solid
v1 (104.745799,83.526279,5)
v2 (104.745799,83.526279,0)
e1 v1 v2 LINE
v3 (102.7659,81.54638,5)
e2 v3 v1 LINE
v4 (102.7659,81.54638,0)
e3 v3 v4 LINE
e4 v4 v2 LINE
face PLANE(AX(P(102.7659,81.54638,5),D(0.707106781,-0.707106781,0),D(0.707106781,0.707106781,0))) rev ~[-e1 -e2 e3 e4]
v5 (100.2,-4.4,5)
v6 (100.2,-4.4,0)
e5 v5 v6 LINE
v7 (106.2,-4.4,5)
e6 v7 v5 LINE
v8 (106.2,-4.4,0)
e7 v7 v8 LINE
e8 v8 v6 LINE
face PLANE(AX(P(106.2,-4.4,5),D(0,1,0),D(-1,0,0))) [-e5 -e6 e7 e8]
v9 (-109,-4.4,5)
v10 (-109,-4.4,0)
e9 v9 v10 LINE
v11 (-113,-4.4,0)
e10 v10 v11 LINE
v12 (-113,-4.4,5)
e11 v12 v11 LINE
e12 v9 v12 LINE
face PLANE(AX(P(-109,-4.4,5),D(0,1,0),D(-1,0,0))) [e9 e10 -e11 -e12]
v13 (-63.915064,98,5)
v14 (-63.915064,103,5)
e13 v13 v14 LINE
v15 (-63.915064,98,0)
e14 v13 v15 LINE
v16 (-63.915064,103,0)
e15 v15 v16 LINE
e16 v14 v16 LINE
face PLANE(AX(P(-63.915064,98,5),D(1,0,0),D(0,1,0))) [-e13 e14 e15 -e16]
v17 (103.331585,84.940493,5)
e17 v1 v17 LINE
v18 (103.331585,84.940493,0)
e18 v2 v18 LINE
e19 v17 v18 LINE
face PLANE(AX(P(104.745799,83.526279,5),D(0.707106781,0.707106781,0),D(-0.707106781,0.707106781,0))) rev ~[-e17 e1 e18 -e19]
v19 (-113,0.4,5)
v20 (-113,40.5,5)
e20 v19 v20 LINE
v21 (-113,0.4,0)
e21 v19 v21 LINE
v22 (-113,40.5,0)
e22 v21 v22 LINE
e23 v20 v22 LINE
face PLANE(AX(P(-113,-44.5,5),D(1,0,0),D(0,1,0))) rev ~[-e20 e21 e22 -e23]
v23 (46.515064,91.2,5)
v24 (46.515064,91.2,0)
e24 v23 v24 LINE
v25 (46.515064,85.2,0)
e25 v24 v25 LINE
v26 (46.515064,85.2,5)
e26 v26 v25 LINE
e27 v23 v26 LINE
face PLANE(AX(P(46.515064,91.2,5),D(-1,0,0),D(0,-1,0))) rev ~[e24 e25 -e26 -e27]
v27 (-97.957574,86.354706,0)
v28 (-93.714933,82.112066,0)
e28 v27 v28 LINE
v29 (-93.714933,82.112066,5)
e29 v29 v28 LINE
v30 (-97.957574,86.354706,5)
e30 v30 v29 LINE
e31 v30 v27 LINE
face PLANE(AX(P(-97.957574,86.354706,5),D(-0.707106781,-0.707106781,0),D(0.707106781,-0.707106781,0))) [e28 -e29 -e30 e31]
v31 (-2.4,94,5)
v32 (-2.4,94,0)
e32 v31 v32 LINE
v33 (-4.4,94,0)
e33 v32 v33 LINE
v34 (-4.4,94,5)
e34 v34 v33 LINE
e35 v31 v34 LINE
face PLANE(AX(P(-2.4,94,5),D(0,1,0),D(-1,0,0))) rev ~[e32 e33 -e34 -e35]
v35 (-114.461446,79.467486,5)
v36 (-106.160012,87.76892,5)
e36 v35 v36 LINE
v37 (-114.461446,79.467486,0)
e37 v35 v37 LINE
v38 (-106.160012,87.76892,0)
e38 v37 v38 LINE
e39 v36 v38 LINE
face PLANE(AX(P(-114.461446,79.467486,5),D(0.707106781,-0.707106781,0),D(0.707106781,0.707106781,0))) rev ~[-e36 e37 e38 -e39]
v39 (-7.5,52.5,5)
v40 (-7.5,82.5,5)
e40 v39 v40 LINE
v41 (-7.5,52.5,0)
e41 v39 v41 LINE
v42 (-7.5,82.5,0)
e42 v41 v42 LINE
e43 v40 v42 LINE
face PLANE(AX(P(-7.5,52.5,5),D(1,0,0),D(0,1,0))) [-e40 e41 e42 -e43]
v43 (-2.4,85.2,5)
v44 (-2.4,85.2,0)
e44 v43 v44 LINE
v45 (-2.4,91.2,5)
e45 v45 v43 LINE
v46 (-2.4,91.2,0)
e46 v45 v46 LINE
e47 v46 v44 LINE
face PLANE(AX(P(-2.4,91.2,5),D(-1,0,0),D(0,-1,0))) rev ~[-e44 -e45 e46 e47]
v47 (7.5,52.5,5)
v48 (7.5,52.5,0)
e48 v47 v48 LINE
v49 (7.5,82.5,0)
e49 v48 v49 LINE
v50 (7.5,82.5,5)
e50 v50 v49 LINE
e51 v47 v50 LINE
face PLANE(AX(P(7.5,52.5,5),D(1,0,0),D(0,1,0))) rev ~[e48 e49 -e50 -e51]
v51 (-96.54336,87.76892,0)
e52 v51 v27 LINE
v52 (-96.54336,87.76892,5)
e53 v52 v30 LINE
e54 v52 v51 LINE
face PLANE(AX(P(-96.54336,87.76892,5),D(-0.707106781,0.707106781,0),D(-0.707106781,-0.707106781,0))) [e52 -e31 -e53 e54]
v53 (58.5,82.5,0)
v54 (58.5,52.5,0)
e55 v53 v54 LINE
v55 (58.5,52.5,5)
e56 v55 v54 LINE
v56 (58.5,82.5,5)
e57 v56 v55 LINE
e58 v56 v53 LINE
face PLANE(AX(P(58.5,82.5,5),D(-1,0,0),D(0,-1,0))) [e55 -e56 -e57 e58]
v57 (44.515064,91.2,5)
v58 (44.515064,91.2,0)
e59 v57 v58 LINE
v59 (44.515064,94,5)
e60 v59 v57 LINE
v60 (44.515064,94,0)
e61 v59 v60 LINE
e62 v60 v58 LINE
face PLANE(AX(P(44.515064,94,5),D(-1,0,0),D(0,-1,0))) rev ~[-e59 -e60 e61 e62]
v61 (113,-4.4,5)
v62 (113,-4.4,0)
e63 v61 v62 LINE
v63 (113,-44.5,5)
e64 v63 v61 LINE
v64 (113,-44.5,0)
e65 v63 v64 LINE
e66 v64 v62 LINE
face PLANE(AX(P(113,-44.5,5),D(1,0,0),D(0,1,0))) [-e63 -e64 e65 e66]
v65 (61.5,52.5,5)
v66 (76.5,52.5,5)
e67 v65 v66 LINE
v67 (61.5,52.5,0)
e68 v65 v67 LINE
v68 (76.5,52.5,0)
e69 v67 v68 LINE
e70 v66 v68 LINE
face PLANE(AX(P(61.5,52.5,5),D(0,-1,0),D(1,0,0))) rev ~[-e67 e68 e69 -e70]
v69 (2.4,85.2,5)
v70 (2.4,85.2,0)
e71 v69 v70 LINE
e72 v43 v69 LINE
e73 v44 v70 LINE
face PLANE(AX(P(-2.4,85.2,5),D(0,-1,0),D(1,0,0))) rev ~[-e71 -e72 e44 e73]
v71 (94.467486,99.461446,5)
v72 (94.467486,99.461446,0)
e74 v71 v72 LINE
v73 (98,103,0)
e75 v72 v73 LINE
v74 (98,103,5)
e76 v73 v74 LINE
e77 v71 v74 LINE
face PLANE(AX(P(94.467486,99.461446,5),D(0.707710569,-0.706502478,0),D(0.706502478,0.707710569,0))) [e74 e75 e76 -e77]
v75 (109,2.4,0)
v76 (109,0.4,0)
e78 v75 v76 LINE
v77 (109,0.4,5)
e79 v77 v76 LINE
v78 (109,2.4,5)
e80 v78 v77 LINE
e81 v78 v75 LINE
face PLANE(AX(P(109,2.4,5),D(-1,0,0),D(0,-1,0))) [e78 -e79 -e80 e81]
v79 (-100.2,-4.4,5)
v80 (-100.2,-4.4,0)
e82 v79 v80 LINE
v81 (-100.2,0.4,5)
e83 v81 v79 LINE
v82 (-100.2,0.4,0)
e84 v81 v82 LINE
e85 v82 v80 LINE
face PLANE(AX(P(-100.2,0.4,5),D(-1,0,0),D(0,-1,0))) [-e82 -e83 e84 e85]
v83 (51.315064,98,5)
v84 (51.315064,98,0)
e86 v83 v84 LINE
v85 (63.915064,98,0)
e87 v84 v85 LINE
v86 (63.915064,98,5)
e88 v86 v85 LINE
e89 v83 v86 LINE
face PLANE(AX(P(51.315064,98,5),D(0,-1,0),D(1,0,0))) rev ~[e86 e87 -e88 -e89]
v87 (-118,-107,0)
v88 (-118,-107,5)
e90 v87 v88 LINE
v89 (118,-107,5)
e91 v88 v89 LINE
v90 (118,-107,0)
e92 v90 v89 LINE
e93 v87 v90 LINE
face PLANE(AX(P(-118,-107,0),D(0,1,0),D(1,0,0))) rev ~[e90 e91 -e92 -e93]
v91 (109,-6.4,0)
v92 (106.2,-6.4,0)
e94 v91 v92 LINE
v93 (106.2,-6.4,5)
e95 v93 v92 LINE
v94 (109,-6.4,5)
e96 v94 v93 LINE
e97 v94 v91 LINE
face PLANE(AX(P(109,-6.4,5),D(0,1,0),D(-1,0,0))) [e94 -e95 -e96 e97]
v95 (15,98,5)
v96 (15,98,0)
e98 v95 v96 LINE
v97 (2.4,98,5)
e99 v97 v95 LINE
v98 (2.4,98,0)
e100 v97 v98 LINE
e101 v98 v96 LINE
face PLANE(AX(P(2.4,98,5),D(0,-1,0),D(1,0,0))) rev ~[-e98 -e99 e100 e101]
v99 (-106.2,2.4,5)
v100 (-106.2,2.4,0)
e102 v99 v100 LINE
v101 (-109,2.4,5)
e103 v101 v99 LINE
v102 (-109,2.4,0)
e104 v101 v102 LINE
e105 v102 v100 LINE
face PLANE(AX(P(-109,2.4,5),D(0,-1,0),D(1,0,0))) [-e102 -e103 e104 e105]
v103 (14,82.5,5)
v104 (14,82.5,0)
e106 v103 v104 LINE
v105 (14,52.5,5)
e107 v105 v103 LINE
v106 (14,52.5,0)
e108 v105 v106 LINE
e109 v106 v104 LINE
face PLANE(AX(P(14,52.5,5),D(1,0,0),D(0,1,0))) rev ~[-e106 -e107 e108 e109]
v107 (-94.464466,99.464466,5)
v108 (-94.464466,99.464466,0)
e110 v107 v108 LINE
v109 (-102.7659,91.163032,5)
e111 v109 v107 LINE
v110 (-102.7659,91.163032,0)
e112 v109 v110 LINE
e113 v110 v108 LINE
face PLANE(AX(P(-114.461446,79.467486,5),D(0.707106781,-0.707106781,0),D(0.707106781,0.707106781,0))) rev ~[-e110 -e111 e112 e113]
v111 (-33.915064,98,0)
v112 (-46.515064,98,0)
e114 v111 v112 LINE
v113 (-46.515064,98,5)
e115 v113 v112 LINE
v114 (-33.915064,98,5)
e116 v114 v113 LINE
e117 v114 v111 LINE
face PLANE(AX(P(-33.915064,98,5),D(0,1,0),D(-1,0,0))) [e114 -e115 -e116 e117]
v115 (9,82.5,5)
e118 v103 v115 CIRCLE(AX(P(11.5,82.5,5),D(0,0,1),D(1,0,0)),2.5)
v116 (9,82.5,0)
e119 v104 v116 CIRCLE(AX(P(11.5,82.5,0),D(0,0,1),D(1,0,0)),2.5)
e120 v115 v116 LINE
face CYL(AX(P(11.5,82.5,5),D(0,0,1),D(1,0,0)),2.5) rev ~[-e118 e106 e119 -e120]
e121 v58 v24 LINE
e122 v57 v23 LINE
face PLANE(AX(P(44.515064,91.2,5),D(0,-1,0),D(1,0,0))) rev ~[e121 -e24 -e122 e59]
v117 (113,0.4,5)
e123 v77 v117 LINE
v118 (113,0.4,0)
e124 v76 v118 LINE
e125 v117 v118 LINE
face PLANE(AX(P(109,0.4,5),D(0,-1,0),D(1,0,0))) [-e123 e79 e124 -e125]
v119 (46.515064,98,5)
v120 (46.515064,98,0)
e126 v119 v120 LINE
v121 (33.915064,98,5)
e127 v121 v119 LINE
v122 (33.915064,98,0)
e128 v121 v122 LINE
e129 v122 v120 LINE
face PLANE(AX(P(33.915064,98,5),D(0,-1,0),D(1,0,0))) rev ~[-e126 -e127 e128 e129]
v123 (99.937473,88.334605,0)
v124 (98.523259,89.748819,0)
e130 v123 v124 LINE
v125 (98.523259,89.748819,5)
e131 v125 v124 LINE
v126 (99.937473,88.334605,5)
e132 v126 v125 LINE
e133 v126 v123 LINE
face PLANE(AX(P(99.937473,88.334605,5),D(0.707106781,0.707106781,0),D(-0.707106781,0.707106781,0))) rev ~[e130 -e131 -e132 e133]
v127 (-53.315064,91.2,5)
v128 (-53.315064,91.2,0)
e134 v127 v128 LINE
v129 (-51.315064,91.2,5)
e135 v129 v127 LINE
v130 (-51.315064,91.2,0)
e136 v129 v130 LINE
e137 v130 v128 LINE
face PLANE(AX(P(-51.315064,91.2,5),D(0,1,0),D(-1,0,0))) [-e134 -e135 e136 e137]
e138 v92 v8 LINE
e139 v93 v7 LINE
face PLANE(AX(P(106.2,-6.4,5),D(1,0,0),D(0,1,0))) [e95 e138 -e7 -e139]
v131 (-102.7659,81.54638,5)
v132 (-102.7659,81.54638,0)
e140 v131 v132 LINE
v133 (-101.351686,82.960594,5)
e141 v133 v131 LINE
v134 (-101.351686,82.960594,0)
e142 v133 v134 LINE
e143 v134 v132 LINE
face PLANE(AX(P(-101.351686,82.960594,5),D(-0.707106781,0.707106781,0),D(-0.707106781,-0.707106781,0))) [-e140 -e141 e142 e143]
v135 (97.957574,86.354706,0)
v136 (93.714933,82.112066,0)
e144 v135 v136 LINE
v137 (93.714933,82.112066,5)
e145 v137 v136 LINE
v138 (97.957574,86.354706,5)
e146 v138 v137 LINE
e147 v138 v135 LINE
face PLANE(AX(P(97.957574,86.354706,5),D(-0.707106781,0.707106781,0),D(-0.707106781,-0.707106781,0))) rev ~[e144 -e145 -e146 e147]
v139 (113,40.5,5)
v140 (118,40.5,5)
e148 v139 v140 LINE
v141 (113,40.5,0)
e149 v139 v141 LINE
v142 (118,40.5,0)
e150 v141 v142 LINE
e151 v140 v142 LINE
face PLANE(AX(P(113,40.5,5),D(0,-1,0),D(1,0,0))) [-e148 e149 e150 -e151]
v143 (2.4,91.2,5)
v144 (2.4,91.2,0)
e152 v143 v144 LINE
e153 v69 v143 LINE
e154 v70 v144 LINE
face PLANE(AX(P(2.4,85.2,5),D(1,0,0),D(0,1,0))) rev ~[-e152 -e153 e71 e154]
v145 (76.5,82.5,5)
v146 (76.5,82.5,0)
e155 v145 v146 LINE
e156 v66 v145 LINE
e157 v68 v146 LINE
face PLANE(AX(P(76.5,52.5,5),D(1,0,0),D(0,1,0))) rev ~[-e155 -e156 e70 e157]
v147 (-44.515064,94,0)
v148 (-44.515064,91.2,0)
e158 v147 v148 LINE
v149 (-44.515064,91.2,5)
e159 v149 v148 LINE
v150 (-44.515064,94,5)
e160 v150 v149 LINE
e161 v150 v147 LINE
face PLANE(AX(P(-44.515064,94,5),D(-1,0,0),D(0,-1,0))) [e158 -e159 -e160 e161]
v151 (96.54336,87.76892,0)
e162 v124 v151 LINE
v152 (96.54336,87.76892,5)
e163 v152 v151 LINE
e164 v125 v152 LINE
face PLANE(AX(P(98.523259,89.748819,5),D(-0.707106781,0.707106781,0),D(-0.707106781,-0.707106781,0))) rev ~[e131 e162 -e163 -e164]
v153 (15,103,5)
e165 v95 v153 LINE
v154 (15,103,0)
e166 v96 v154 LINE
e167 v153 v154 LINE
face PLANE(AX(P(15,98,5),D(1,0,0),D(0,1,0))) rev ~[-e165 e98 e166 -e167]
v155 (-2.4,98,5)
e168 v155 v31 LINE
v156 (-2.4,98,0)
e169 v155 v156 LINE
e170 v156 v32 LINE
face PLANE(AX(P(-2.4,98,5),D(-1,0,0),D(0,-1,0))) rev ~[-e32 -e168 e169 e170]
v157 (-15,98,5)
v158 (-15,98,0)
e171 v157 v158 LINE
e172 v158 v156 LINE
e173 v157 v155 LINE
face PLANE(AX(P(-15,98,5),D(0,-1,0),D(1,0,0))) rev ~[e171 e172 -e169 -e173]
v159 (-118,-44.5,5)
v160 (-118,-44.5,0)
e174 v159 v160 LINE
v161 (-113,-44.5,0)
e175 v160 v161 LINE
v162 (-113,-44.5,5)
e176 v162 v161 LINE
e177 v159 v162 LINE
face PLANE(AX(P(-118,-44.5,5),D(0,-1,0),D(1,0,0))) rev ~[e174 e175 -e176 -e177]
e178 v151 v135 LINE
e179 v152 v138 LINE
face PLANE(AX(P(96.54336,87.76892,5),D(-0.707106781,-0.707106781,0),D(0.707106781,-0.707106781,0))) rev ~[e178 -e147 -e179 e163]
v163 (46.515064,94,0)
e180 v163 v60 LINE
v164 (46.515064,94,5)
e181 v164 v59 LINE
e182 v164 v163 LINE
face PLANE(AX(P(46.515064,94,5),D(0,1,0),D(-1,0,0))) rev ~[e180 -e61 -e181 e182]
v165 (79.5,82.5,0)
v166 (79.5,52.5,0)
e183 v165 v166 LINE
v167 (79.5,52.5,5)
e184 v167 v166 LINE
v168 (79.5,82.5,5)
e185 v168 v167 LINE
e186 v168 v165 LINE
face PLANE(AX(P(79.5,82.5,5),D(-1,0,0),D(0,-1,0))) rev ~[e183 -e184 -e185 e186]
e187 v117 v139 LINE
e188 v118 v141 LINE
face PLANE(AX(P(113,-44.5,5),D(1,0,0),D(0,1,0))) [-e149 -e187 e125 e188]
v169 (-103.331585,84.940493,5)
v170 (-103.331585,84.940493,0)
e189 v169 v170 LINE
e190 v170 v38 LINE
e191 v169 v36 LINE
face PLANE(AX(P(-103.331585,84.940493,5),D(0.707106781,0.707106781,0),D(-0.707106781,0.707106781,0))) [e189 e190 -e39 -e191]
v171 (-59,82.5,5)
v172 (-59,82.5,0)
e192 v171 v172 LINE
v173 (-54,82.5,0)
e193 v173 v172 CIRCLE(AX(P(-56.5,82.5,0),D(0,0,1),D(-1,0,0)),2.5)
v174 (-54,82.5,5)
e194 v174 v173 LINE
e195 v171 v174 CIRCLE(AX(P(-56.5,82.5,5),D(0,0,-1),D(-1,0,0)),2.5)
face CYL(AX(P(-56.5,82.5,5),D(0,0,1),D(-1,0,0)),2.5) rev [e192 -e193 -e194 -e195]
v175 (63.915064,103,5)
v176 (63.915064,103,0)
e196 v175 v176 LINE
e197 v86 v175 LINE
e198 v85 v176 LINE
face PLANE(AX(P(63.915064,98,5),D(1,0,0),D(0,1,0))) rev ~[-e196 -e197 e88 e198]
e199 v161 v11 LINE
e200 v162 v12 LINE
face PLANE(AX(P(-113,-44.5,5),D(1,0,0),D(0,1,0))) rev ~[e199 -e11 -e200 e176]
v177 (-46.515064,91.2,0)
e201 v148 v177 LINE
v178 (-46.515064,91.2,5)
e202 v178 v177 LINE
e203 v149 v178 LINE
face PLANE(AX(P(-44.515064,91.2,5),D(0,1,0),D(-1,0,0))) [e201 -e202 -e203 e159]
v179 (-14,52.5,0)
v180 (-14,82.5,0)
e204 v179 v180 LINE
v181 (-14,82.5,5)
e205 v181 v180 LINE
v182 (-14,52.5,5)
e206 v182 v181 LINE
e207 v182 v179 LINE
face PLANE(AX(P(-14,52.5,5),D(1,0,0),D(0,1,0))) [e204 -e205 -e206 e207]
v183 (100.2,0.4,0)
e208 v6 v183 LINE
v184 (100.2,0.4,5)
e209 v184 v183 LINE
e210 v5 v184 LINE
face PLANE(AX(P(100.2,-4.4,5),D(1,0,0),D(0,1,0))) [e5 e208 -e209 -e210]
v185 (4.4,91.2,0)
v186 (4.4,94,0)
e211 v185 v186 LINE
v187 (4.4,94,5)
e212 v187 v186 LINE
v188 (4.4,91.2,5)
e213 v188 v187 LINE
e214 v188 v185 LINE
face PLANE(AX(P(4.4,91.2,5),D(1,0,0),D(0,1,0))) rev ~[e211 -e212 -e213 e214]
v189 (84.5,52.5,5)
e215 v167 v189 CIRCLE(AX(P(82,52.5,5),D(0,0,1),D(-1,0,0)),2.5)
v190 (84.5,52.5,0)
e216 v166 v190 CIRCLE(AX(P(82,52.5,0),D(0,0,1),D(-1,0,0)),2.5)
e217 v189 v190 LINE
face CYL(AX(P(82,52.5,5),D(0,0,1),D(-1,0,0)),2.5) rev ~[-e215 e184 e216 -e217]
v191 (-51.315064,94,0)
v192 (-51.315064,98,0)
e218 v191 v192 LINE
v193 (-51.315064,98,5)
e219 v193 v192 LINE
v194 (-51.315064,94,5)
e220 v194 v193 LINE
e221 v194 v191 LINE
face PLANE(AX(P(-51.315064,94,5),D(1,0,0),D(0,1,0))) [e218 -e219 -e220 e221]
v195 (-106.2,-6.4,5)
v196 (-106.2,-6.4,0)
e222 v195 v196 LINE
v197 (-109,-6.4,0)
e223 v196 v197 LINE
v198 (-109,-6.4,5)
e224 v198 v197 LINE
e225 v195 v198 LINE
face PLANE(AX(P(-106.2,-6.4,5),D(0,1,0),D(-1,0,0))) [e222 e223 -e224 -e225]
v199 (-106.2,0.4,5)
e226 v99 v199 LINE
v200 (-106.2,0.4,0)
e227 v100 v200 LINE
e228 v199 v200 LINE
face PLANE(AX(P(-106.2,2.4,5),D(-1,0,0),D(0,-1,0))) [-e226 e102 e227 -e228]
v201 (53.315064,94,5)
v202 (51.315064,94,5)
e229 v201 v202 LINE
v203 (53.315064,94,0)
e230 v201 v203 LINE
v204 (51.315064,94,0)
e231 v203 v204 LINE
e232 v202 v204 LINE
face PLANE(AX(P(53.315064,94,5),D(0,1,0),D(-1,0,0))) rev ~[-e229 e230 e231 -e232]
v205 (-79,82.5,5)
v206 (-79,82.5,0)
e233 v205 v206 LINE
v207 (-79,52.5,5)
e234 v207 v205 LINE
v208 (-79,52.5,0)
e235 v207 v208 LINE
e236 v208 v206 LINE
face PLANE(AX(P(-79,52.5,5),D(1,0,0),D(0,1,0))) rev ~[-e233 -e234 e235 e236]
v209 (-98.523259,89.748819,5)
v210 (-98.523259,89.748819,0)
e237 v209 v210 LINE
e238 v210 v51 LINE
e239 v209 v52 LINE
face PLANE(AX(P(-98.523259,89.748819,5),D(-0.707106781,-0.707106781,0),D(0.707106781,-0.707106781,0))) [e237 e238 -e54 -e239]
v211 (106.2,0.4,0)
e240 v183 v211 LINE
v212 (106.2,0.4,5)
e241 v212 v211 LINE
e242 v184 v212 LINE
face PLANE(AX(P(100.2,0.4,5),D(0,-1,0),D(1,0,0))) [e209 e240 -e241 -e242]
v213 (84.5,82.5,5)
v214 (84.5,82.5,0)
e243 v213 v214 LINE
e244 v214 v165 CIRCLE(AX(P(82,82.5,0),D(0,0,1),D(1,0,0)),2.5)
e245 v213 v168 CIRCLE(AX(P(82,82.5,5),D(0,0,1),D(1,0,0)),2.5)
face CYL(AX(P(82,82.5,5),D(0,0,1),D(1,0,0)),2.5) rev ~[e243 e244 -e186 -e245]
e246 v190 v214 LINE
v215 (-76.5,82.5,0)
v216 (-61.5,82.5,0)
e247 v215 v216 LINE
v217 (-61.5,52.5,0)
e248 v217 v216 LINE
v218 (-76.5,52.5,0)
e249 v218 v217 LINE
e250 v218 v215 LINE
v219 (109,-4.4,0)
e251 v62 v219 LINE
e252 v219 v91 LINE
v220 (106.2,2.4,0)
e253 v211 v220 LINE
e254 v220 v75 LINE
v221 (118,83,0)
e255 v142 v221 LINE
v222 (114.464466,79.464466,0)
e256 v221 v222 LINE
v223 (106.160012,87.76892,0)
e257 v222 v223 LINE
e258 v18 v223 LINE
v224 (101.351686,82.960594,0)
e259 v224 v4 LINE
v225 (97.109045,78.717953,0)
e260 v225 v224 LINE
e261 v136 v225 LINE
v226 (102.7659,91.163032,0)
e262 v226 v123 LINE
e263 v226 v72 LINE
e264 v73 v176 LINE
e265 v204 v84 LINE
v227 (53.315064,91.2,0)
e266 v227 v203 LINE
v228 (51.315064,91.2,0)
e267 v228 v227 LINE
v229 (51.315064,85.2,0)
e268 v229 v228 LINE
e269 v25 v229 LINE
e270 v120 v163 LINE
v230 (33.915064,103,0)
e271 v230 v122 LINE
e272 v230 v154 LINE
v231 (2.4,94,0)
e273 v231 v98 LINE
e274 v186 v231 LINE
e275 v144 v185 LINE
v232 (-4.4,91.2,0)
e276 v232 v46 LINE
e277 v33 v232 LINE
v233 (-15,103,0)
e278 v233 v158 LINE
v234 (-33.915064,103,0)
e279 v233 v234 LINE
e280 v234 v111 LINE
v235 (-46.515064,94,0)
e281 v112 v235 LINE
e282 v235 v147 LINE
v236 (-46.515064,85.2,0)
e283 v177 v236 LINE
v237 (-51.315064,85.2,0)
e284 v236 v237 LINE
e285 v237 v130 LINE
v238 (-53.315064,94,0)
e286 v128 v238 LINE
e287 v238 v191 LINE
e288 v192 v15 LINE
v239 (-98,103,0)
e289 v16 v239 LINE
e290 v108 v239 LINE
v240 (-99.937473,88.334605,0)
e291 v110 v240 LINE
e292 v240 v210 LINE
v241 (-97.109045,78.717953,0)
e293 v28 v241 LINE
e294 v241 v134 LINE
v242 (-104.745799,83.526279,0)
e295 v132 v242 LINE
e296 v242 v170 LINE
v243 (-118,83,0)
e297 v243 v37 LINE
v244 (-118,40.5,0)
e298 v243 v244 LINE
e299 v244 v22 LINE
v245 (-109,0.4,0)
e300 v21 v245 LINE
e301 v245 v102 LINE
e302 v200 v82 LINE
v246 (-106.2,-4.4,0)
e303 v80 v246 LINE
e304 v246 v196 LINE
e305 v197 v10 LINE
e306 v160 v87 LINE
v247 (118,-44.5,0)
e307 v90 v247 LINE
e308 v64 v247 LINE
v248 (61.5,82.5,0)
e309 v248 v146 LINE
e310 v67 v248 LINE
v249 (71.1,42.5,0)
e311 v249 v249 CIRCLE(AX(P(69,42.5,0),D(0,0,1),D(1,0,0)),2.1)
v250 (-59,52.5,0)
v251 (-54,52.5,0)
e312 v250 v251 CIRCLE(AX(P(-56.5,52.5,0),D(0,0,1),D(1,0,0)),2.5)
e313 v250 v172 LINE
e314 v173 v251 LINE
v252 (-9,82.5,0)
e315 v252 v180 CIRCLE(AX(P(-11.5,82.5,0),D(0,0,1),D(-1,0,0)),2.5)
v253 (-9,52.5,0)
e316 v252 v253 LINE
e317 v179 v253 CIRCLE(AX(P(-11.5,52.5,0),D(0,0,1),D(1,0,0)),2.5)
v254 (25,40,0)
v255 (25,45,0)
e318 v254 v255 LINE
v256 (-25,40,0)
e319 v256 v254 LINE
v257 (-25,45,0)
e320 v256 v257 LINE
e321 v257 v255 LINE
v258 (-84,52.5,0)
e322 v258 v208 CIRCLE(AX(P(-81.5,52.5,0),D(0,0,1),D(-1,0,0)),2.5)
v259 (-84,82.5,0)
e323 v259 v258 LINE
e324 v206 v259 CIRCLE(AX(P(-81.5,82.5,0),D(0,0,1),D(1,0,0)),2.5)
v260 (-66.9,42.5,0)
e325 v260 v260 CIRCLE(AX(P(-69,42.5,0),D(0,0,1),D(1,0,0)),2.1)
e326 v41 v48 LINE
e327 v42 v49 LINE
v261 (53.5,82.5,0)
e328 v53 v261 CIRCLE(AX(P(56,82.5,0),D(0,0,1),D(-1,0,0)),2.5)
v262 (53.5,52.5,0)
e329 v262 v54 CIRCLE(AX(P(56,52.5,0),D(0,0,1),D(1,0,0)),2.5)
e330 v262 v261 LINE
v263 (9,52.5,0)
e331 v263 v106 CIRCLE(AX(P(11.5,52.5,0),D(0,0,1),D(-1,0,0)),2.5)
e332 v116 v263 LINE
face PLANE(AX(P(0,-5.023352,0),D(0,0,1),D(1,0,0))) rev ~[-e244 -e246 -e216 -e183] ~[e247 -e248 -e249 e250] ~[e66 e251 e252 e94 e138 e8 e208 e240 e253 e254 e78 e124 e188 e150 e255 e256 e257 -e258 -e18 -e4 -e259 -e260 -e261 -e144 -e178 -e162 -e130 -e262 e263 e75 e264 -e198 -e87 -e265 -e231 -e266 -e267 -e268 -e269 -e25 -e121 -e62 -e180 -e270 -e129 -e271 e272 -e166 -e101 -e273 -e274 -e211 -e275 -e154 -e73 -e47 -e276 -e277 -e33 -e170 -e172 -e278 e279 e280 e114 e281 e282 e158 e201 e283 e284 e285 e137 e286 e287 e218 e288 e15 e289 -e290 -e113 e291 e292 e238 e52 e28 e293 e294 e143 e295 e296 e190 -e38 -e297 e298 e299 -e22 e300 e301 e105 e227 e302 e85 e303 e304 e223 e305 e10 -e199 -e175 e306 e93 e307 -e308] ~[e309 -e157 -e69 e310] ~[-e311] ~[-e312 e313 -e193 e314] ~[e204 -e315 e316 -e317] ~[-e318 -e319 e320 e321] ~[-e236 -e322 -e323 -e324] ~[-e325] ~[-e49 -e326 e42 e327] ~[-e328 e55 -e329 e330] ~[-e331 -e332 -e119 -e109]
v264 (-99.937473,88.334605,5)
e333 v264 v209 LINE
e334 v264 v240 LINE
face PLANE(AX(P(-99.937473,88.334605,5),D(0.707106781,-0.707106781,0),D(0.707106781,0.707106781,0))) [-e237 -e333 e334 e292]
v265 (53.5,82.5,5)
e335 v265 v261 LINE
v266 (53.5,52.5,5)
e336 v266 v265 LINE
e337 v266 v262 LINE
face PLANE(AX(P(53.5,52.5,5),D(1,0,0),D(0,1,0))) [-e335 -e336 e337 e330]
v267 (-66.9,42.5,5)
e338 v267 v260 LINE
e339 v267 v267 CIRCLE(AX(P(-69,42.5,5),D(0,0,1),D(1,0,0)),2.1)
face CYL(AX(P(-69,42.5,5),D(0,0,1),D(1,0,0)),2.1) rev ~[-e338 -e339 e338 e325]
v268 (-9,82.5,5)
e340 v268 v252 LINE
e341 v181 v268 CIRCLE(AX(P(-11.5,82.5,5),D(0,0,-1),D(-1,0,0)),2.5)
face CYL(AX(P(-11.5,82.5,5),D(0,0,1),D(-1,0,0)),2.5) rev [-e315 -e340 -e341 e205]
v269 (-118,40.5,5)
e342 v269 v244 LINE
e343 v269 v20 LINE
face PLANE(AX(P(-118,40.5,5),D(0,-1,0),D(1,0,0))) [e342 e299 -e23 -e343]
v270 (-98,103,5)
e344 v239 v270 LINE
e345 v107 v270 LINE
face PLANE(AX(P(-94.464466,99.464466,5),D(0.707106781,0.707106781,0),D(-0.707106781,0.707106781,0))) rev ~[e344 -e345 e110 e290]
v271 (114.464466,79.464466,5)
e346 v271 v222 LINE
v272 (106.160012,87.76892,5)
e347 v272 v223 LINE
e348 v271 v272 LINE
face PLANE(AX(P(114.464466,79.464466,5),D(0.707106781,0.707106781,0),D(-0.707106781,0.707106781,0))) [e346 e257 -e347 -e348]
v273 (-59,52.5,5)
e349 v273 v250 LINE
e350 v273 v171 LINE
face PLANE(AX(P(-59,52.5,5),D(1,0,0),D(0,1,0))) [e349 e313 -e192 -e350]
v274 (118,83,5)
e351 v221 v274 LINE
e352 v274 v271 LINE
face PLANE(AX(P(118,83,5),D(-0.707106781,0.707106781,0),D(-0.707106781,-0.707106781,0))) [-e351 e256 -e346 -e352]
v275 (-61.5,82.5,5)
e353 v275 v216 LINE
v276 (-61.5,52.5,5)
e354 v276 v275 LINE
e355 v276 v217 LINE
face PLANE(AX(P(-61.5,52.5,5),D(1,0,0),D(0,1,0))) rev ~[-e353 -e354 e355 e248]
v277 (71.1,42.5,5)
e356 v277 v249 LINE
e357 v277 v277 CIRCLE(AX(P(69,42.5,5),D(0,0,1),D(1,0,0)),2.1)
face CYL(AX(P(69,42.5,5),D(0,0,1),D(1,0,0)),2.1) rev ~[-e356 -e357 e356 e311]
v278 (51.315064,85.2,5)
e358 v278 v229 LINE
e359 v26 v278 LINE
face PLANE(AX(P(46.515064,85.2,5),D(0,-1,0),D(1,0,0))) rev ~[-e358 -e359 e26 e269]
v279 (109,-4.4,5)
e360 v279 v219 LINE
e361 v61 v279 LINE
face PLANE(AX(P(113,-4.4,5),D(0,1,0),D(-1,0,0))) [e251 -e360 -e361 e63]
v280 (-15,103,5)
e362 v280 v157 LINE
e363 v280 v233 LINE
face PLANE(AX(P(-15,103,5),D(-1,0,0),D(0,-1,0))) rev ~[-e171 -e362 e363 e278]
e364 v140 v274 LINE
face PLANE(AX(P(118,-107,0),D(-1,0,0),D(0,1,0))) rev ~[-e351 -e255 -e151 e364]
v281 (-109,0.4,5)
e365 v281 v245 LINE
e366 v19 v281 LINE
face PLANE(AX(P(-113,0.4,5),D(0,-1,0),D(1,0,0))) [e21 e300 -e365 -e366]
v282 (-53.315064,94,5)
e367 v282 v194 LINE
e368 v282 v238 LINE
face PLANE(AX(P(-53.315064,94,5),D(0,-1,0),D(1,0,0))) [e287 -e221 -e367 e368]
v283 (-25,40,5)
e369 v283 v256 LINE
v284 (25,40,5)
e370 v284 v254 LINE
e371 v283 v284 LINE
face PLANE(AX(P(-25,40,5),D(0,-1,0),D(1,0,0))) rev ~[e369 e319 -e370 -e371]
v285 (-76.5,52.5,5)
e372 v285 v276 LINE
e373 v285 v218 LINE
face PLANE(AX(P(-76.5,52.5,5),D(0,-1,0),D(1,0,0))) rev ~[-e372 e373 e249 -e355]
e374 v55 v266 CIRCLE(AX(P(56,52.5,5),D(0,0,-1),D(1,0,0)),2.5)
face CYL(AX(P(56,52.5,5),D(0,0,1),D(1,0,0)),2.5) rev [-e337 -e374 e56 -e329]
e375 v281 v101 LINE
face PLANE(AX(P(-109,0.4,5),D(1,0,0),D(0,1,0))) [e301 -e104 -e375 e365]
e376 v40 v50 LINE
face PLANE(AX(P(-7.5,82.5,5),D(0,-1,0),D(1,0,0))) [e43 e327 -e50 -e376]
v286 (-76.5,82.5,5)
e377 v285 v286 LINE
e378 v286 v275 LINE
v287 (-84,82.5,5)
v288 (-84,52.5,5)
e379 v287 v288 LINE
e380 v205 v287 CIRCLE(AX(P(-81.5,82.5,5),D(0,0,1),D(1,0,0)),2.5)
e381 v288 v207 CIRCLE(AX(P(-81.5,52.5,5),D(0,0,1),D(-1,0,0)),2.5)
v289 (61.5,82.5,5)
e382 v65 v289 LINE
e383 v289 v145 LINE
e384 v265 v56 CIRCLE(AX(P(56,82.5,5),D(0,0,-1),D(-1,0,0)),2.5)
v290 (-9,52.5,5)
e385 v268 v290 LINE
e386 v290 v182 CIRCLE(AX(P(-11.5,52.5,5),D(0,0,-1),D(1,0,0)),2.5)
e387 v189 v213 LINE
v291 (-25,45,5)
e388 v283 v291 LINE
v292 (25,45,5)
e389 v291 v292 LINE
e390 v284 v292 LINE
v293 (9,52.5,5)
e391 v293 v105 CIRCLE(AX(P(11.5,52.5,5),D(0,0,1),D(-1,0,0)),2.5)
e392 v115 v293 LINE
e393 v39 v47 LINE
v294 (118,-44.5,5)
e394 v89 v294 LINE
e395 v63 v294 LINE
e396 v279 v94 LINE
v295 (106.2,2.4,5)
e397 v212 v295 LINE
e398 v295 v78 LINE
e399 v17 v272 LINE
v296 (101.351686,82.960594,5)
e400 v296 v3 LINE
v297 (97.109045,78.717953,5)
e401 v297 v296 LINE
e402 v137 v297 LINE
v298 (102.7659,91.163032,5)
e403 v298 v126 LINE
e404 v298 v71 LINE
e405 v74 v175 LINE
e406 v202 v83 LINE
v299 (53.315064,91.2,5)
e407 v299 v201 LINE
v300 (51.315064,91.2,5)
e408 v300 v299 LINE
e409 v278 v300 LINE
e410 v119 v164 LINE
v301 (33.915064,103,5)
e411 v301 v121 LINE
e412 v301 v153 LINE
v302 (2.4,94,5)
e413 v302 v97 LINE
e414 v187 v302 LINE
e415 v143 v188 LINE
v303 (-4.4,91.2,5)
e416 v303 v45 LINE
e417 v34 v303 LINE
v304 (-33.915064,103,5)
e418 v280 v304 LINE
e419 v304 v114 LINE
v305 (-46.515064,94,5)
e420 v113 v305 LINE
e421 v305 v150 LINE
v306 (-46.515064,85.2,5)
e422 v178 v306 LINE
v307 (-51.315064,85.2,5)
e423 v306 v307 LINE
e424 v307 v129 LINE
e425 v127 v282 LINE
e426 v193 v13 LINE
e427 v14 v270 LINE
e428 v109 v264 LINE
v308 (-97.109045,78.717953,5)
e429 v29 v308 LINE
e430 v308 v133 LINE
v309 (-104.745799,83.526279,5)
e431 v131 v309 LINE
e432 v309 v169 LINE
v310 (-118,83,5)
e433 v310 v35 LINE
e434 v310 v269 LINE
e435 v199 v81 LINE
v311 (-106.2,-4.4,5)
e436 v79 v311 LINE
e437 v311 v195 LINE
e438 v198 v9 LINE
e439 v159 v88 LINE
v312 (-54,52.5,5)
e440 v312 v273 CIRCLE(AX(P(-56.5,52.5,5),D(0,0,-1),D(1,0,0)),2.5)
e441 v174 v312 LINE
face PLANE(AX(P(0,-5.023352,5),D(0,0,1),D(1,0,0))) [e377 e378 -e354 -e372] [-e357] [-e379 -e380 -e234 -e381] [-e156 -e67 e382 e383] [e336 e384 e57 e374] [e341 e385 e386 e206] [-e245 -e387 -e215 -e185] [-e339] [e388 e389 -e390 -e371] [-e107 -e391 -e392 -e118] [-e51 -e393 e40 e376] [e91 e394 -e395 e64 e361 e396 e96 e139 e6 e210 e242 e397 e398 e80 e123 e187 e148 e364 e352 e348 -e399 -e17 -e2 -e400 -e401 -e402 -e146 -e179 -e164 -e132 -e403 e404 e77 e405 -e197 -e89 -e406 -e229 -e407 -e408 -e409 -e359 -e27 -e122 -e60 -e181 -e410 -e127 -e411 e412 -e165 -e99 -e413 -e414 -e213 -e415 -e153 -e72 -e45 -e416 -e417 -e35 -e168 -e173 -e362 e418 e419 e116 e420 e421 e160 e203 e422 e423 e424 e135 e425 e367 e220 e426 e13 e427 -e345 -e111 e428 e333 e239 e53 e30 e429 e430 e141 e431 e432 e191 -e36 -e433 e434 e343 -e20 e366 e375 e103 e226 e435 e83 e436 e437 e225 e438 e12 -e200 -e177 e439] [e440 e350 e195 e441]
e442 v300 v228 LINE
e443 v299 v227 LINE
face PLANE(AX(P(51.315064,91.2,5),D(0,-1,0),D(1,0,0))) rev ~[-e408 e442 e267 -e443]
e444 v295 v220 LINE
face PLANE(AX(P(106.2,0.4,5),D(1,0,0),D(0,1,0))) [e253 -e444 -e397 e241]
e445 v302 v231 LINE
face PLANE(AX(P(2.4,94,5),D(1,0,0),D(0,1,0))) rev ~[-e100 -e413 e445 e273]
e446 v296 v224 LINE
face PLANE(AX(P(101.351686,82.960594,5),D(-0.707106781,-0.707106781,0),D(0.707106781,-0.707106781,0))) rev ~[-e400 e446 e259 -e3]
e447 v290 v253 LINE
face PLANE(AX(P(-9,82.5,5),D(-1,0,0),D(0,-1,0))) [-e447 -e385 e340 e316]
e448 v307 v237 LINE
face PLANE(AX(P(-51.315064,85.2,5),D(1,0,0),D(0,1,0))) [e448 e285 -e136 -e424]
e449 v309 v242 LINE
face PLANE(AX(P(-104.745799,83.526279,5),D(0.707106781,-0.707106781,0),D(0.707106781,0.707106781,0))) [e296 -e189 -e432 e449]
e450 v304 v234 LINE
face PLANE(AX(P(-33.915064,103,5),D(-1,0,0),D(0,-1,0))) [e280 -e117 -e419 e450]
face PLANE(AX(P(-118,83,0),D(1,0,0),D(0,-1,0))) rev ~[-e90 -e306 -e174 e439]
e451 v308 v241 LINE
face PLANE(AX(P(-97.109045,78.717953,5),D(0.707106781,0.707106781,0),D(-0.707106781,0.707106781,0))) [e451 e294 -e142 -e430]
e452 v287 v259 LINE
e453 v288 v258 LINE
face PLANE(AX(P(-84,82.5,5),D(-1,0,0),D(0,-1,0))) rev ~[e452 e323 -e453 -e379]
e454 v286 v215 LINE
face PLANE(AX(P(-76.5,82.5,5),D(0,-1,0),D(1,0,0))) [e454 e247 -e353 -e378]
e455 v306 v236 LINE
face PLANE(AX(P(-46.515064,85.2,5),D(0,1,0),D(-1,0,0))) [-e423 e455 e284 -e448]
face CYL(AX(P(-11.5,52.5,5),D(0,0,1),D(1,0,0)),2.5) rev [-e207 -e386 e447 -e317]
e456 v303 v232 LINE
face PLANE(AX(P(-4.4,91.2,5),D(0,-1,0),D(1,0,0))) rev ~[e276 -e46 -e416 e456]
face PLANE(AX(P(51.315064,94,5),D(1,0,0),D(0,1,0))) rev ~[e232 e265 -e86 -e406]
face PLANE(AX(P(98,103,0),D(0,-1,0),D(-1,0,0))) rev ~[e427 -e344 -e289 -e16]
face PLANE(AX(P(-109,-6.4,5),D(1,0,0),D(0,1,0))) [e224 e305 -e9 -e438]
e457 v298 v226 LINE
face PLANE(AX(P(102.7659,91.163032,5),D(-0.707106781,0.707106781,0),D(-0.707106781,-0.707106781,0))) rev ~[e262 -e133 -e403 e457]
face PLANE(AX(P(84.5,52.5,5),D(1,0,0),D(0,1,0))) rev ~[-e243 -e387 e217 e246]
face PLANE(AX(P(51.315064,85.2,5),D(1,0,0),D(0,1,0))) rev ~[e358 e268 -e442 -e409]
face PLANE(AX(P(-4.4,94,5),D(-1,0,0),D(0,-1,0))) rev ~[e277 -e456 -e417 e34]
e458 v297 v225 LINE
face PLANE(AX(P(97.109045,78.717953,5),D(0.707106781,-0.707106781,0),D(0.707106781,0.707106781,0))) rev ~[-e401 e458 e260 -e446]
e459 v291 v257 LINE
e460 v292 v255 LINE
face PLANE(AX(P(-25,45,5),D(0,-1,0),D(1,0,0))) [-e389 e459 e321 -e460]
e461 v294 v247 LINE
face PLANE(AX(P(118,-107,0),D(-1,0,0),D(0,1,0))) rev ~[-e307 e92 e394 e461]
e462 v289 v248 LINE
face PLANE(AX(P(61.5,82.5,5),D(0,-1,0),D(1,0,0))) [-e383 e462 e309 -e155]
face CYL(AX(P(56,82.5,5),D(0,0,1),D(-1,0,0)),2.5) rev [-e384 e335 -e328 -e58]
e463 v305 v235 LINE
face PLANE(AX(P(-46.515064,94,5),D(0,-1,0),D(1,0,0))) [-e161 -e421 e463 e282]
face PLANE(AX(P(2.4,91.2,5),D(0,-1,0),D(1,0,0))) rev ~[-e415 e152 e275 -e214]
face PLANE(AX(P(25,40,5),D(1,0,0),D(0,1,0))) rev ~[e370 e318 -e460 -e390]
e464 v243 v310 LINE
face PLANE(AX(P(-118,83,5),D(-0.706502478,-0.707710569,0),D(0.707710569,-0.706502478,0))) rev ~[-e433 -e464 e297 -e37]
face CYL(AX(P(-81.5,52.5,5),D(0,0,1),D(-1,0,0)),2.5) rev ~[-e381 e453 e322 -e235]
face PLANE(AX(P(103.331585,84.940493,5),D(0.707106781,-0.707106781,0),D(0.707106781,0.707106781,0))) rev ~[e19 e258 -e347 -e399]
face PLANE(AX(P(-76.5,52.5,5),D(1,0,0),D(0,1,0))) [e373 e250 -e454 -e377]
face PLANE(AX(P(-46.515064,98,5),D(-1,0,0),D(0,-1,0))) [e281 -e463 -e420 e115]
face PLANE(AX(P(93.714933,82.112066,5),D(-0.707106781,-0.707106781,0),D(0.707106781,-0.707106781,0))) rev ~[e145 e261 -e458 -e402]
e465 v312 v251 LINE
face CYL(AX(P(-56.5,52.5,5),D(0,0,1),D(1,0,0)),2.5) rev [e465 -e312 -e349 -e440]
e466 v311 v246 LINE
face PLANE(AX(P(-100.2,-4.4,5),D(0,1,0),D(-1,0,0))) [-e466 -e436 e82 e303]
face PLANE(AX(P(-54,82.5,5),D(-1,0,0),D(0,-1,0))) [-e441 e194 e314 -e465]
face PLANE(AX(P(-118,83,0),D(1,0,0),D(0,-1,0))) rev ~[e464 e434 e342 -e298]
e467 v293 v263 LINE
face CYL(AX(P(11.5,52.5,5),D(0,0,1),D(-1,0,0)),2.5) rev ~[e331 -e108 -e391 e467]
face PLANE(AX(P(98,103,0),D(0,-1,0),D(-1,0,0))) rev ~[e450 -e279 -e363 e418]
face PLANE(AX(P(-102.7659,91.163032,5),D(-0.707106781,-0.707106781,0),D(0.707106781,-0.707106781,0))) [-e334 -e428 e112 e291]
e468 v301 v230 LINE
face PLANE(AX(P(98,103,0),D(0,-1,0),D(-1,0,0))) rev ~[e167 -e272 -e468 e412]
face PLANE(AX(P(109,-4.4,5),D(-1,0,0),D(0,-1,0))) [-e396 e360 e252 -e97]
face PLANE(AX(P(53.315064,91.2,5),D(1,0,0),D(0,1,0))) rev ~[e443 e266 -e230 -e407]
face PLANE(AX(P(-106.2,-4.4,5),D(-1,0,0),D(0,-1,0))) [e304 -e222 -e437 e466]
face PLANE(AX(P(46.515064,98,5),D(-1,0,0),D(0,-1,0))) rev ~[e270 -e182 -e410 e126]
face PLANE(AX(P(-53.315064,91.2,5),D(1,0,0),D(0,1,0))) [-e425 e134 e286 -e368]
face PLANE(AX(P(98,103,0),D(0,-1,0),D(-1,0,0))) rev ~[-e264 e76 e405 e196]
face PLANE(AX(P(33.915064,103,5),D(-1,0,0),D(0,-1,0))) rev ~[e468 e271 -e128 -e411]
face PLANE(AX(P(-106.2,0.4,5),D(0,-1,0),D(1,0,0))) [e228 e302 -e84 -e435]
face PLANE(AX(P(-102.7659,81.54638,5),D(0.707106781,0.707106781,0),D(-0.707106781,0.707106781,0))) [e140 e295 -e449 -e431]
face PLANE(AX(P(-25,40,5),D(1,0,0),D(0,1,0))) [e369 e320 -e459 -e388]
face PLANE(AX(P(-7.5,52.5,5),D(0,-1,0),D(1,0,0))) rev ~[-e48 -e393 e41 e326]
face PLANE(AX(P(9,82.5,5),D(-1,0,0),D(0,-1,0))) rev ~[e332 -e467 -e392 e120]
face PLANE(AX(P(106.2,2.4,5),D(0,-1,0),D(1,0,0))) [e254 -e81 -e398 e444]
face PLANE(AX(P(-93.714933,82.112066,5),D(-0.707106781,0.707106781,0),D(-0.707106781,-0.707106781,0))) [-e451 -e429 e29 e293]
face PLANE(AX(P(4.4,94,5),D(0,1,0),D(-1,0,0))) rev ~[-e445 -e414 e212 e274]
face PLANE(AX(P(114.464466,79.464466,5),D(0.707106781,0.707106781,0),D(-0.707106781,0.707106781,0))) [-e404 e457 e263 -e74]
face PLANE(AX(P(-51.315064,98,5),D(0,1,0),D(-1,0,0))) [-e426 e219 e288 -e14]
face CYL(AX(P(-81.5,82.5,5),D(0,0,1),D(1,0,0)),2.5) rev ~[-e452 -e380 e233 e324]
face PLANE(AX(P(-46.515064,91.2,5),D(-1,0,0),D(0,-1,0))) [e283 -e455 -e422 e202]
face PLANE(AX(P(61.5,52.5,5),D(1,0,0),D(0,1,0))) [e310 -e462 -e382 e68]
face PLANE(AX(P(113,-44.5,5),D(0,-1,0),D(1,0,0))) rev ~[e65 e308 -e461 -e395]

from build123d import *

# Parameters (mm, degrees)
BOSS_EXTRUDE1_DEPTH = 5
SKETCH4_W           = 5
SKETCH4_H           = 85
CUT_EXTRUDE3_DEPTH  = 6
CUT_EXTRUDE6_DEPTH  = 6
CUT_EXTRUDE8_DEPTH  = 5
SKETCH10_R          = 2.1
SKETCH10_W          = 50
SKETCH10_H          = 5
SKETCH10_W_2        = 15
SKETCH10_H_2        = 30
CUT_EXTRUDE9_DEPTH  = 10
CUT_EXTRUDE10_DEPTH = 10


with BuildPart() as part:
    # Sketch1 → Boss-Extrude1 (new body)
    with BuildSketch(Plane.XY):
        Polygon((64.226162893, -107), (118, -107), (118, 83), (98, 103), (-98, 103), (-118, 83), (-118, -107), (-64.226162893, -107), align=None)
    extrude(amount=BOSS_EXTRUDE1_DEPTH)

    # Sketch4 → Cut-Extrude3 (cut, through all)
    with BuildSketch(Plane.XY.offset(5)):
        with Locations((-115.5, -2)):
            Rectangle(SKETCH4_W, SKETCH4_H)
        with Locations((115.5, -2)):
            Rectangle(SKETCH4_W, SKETCH4_H)
    extrude(amount=-CUT_EXTRUDE3_DEPTH, mode=Mode.SUBTRACT)

    # Sketch7 → Cut-Extrude6 (cut, through all)
    with BuildSketch(Plane.XY.offset(5)):
        Polygon((-15, 98), (-2.4, 98), (-2.4, 94), (-4.4, 94), (-4.4, 91.2), (-2.4, 91.2), (-2.4, 85.2), (2.4, 85.2), (2.4, 91.2), (4.4, 91.2), (4.4, 94), (2.4, 94), (2.4, 98), (15, 98), (15, 103), (-15, 103), align=None)
        Polygon((-51.315063509, 98), (-63.915063509, 98), (-63.915063509, 103), (-33.915063509, 103), (-33.915063509, 98), (-46.515063509, 98), (-46.515063509, 94), (-44.515063509, 94), (-44.515063509, 91.2), (-46.515063509, 91.2), (-46.515063509, 85.2), (-51.315063509, 85.2), (-51.315063509, 91.2), (-53.315063509, 91.2), (-53.315063509, 94), (-51.315063509, 94), align=None)
        Polygon((-102.765899705, 91.163032483), (-99.93747258, 88.334605358), (-98.523259018, 89.748818921), (-96.543360031, 87.768919933), (-97.957573593, 86.354706371), (-93.714932906, 82.112065684), (-97.109045456, 78.717953134), (-101.351686143, 82.960593821), (-102.765899705, 81.546380259), (-104.745798693, 83.526279246), (-103.33158513, 84.940492808), (-106.160012255, 87.768919933), align=None)
        Polygon((93.714932906, 82.112065684), (97.109045456, 78.717953134), (101.351686143, 82.960593821), (102.765899705, 81.546380259), (104.745798693, 83.526279246), (103.33158513, 84.940492808), (106.160012255, 87.768919933), (102.765899705, 91.163032483), (99.93747258, 88.334605358), (98.523259018, 89.748818921), (96.543360031, 87.768919933), (97.957573593, 86.354706371), align=None)
        Polygon((33.915063509, 98), (46.515063509, 98), (46.515063509, 94), (44.515063509, 94), (44.515063509, 91.2), (46.515063509, 91.2), (46.515063509, 85.2), (51.315063509, 85.2), (51.315063509, 91.2), (53.315063509, 91.2), (53.315063509, 94), (51.315063509, 94), (51.315063509, 98), (63.915063509, 98), (63.915063509, 103), (33.915063509, 103), align=None)
    extrude(amount=-CUT_EXTRUDE6_DEPTH, mode=Mode.SUBTRACT)

    # Sketch9 → Cut-Extrude8 (cut)
    with BuildSketch(Plane.XY.offset(5)):
        Polygon((94.467486322, 99.461445866), (98, 103), (118, 83), (114.464466094, 79.464466094), align=None)
        Polygon((-118, 83), (-114.461445866, 79.467486322), (-94.464466094, 99.464466094), (-98, 103), align=None)
    extrude(amount=-CUT_EXTRUDE8_DEPTH, mode=Mode.SUBTRACT)

    # Sketch10 → Cut-Extrude9 (cut)
    with BuildSketch(Plane.XY.offset(5)):
        with Locations((69, 42.5)):
            Circle(SKETCH10_R)
        with Locations((-69, 42.5)):
            Circle(SKETCH10_R)
        with Locations((0, 42.5)):
            Rectangle(SKETCH10_W, SKETCH10_H)
        with Locations((-69, 67.5)):
            Rectangle(SKETCH10_W_2, SKETCH10_H_2)
        with Locations((0, 67.5)):
            Rectangle(SKETCH10_W_2, SKETCH10_H_2)
        with Locations((69, 67.5)):
            Rectangle(SKETCH10_W_2, SKETCH10_H_2)
        with BuildLine():
            Line((-54, 82.5), (-54, 52.5))
            ThreePointArc((-54, 52.5), (-56.5, 50), (-59, 52.5))
            Line((-59, 52.5), (-59, 82.5))
            ThreePointArc((-59, 82.5), (-56.5, 85), (-54, 82.5))
        make_face()
        with BuildLine():
            Line((-9, 82.5), (-9, 52.5))
            ThreePointArc((-9, 52.5), (-11.5, 50), (-14, 52.5))
            Line((-14, 52.5), (-14, 82.5))
            ThreePointArc((-14, 82.5), (-11.5, 85), (-9, 82.5))
        make_face()
        with BuildLine():
            Line((58.5, 82.5), (58.5, 52.5))
            ThreePointArc((58.5, 52.5), (56, 50), (53.5, 52.5))
            Line((53.5, 52.5), (53.5, 82.5))
            ThreePointArc((53.5, 82.5), (56, 85), (58.5, 82.5))
        make_face()
        with BuildLine():
            Line((-84, 82.5), (-84, 52.5))
            ThreePointArc((-84, 52.5), (-81.5, 50), (-79, 52.5))
            Line((-79, 52.5), (-79, 82.5))
            ThreePointArc((-79, 82.5), (-81.5, 85), (-84, 82.5))
        make_face()
        with BuildLine():
            Line((9, 82.5), (9, 52.5))
            ThreePointArc((9, 52.5), (11.5, 50), (14, 52.5))
            Line((14, 52.5), (14, 82.5))
            ThreePointArc((14, 82.5), (11.5, 85), (9, 82.5))
        make_face()
        with BuildLine():
            Line((79.5, 82.5), (79.5, 52.5))
            ThreePointArc((79.5, 52.5), (82, 50), (84.5, 52.5))
            Line((84.5, 52.5), (84.5, 82.5))
            ThreePointArc((84.5, 82.5), (82, 85), (79.5, 82.5))
        make_face()
    extrude(amount=-CUT_EXTRUDE9_DEPTH, mode=Mode.SUBTRACT)

    # Sketch11 → Cut-Extrude10 (cut)
    with BuildSketch(Plane.XY.offset(5)):
        Polygon((-113, 0.4), (-109, 0.4), (-109, 2.4), (-106.2, 2.4), (-106.2, 0.4), (-100.2, 0.4), (-100.2, -4.4), (-106.2, -4.4), (-106.2, -6.4), (-109, -6.4), (-109, -4.4), (-113, -4.4), align=None)
        Polygon((113, 0.4), (113, -4.4), (109, -4.4), (109, -6.4), (106.2, -6.4), (106.2, -4.4), (100.2, -4.4), (100.2, 0.4), (106.2, 0.4), (106.2, 2.4), (109, 2.4), (109, 0.4), align=None)
    extrude(amount=-CUT_EXTRUDE10_DEPTH, mode=Mode.SUBTRACT)


solid = part.part
